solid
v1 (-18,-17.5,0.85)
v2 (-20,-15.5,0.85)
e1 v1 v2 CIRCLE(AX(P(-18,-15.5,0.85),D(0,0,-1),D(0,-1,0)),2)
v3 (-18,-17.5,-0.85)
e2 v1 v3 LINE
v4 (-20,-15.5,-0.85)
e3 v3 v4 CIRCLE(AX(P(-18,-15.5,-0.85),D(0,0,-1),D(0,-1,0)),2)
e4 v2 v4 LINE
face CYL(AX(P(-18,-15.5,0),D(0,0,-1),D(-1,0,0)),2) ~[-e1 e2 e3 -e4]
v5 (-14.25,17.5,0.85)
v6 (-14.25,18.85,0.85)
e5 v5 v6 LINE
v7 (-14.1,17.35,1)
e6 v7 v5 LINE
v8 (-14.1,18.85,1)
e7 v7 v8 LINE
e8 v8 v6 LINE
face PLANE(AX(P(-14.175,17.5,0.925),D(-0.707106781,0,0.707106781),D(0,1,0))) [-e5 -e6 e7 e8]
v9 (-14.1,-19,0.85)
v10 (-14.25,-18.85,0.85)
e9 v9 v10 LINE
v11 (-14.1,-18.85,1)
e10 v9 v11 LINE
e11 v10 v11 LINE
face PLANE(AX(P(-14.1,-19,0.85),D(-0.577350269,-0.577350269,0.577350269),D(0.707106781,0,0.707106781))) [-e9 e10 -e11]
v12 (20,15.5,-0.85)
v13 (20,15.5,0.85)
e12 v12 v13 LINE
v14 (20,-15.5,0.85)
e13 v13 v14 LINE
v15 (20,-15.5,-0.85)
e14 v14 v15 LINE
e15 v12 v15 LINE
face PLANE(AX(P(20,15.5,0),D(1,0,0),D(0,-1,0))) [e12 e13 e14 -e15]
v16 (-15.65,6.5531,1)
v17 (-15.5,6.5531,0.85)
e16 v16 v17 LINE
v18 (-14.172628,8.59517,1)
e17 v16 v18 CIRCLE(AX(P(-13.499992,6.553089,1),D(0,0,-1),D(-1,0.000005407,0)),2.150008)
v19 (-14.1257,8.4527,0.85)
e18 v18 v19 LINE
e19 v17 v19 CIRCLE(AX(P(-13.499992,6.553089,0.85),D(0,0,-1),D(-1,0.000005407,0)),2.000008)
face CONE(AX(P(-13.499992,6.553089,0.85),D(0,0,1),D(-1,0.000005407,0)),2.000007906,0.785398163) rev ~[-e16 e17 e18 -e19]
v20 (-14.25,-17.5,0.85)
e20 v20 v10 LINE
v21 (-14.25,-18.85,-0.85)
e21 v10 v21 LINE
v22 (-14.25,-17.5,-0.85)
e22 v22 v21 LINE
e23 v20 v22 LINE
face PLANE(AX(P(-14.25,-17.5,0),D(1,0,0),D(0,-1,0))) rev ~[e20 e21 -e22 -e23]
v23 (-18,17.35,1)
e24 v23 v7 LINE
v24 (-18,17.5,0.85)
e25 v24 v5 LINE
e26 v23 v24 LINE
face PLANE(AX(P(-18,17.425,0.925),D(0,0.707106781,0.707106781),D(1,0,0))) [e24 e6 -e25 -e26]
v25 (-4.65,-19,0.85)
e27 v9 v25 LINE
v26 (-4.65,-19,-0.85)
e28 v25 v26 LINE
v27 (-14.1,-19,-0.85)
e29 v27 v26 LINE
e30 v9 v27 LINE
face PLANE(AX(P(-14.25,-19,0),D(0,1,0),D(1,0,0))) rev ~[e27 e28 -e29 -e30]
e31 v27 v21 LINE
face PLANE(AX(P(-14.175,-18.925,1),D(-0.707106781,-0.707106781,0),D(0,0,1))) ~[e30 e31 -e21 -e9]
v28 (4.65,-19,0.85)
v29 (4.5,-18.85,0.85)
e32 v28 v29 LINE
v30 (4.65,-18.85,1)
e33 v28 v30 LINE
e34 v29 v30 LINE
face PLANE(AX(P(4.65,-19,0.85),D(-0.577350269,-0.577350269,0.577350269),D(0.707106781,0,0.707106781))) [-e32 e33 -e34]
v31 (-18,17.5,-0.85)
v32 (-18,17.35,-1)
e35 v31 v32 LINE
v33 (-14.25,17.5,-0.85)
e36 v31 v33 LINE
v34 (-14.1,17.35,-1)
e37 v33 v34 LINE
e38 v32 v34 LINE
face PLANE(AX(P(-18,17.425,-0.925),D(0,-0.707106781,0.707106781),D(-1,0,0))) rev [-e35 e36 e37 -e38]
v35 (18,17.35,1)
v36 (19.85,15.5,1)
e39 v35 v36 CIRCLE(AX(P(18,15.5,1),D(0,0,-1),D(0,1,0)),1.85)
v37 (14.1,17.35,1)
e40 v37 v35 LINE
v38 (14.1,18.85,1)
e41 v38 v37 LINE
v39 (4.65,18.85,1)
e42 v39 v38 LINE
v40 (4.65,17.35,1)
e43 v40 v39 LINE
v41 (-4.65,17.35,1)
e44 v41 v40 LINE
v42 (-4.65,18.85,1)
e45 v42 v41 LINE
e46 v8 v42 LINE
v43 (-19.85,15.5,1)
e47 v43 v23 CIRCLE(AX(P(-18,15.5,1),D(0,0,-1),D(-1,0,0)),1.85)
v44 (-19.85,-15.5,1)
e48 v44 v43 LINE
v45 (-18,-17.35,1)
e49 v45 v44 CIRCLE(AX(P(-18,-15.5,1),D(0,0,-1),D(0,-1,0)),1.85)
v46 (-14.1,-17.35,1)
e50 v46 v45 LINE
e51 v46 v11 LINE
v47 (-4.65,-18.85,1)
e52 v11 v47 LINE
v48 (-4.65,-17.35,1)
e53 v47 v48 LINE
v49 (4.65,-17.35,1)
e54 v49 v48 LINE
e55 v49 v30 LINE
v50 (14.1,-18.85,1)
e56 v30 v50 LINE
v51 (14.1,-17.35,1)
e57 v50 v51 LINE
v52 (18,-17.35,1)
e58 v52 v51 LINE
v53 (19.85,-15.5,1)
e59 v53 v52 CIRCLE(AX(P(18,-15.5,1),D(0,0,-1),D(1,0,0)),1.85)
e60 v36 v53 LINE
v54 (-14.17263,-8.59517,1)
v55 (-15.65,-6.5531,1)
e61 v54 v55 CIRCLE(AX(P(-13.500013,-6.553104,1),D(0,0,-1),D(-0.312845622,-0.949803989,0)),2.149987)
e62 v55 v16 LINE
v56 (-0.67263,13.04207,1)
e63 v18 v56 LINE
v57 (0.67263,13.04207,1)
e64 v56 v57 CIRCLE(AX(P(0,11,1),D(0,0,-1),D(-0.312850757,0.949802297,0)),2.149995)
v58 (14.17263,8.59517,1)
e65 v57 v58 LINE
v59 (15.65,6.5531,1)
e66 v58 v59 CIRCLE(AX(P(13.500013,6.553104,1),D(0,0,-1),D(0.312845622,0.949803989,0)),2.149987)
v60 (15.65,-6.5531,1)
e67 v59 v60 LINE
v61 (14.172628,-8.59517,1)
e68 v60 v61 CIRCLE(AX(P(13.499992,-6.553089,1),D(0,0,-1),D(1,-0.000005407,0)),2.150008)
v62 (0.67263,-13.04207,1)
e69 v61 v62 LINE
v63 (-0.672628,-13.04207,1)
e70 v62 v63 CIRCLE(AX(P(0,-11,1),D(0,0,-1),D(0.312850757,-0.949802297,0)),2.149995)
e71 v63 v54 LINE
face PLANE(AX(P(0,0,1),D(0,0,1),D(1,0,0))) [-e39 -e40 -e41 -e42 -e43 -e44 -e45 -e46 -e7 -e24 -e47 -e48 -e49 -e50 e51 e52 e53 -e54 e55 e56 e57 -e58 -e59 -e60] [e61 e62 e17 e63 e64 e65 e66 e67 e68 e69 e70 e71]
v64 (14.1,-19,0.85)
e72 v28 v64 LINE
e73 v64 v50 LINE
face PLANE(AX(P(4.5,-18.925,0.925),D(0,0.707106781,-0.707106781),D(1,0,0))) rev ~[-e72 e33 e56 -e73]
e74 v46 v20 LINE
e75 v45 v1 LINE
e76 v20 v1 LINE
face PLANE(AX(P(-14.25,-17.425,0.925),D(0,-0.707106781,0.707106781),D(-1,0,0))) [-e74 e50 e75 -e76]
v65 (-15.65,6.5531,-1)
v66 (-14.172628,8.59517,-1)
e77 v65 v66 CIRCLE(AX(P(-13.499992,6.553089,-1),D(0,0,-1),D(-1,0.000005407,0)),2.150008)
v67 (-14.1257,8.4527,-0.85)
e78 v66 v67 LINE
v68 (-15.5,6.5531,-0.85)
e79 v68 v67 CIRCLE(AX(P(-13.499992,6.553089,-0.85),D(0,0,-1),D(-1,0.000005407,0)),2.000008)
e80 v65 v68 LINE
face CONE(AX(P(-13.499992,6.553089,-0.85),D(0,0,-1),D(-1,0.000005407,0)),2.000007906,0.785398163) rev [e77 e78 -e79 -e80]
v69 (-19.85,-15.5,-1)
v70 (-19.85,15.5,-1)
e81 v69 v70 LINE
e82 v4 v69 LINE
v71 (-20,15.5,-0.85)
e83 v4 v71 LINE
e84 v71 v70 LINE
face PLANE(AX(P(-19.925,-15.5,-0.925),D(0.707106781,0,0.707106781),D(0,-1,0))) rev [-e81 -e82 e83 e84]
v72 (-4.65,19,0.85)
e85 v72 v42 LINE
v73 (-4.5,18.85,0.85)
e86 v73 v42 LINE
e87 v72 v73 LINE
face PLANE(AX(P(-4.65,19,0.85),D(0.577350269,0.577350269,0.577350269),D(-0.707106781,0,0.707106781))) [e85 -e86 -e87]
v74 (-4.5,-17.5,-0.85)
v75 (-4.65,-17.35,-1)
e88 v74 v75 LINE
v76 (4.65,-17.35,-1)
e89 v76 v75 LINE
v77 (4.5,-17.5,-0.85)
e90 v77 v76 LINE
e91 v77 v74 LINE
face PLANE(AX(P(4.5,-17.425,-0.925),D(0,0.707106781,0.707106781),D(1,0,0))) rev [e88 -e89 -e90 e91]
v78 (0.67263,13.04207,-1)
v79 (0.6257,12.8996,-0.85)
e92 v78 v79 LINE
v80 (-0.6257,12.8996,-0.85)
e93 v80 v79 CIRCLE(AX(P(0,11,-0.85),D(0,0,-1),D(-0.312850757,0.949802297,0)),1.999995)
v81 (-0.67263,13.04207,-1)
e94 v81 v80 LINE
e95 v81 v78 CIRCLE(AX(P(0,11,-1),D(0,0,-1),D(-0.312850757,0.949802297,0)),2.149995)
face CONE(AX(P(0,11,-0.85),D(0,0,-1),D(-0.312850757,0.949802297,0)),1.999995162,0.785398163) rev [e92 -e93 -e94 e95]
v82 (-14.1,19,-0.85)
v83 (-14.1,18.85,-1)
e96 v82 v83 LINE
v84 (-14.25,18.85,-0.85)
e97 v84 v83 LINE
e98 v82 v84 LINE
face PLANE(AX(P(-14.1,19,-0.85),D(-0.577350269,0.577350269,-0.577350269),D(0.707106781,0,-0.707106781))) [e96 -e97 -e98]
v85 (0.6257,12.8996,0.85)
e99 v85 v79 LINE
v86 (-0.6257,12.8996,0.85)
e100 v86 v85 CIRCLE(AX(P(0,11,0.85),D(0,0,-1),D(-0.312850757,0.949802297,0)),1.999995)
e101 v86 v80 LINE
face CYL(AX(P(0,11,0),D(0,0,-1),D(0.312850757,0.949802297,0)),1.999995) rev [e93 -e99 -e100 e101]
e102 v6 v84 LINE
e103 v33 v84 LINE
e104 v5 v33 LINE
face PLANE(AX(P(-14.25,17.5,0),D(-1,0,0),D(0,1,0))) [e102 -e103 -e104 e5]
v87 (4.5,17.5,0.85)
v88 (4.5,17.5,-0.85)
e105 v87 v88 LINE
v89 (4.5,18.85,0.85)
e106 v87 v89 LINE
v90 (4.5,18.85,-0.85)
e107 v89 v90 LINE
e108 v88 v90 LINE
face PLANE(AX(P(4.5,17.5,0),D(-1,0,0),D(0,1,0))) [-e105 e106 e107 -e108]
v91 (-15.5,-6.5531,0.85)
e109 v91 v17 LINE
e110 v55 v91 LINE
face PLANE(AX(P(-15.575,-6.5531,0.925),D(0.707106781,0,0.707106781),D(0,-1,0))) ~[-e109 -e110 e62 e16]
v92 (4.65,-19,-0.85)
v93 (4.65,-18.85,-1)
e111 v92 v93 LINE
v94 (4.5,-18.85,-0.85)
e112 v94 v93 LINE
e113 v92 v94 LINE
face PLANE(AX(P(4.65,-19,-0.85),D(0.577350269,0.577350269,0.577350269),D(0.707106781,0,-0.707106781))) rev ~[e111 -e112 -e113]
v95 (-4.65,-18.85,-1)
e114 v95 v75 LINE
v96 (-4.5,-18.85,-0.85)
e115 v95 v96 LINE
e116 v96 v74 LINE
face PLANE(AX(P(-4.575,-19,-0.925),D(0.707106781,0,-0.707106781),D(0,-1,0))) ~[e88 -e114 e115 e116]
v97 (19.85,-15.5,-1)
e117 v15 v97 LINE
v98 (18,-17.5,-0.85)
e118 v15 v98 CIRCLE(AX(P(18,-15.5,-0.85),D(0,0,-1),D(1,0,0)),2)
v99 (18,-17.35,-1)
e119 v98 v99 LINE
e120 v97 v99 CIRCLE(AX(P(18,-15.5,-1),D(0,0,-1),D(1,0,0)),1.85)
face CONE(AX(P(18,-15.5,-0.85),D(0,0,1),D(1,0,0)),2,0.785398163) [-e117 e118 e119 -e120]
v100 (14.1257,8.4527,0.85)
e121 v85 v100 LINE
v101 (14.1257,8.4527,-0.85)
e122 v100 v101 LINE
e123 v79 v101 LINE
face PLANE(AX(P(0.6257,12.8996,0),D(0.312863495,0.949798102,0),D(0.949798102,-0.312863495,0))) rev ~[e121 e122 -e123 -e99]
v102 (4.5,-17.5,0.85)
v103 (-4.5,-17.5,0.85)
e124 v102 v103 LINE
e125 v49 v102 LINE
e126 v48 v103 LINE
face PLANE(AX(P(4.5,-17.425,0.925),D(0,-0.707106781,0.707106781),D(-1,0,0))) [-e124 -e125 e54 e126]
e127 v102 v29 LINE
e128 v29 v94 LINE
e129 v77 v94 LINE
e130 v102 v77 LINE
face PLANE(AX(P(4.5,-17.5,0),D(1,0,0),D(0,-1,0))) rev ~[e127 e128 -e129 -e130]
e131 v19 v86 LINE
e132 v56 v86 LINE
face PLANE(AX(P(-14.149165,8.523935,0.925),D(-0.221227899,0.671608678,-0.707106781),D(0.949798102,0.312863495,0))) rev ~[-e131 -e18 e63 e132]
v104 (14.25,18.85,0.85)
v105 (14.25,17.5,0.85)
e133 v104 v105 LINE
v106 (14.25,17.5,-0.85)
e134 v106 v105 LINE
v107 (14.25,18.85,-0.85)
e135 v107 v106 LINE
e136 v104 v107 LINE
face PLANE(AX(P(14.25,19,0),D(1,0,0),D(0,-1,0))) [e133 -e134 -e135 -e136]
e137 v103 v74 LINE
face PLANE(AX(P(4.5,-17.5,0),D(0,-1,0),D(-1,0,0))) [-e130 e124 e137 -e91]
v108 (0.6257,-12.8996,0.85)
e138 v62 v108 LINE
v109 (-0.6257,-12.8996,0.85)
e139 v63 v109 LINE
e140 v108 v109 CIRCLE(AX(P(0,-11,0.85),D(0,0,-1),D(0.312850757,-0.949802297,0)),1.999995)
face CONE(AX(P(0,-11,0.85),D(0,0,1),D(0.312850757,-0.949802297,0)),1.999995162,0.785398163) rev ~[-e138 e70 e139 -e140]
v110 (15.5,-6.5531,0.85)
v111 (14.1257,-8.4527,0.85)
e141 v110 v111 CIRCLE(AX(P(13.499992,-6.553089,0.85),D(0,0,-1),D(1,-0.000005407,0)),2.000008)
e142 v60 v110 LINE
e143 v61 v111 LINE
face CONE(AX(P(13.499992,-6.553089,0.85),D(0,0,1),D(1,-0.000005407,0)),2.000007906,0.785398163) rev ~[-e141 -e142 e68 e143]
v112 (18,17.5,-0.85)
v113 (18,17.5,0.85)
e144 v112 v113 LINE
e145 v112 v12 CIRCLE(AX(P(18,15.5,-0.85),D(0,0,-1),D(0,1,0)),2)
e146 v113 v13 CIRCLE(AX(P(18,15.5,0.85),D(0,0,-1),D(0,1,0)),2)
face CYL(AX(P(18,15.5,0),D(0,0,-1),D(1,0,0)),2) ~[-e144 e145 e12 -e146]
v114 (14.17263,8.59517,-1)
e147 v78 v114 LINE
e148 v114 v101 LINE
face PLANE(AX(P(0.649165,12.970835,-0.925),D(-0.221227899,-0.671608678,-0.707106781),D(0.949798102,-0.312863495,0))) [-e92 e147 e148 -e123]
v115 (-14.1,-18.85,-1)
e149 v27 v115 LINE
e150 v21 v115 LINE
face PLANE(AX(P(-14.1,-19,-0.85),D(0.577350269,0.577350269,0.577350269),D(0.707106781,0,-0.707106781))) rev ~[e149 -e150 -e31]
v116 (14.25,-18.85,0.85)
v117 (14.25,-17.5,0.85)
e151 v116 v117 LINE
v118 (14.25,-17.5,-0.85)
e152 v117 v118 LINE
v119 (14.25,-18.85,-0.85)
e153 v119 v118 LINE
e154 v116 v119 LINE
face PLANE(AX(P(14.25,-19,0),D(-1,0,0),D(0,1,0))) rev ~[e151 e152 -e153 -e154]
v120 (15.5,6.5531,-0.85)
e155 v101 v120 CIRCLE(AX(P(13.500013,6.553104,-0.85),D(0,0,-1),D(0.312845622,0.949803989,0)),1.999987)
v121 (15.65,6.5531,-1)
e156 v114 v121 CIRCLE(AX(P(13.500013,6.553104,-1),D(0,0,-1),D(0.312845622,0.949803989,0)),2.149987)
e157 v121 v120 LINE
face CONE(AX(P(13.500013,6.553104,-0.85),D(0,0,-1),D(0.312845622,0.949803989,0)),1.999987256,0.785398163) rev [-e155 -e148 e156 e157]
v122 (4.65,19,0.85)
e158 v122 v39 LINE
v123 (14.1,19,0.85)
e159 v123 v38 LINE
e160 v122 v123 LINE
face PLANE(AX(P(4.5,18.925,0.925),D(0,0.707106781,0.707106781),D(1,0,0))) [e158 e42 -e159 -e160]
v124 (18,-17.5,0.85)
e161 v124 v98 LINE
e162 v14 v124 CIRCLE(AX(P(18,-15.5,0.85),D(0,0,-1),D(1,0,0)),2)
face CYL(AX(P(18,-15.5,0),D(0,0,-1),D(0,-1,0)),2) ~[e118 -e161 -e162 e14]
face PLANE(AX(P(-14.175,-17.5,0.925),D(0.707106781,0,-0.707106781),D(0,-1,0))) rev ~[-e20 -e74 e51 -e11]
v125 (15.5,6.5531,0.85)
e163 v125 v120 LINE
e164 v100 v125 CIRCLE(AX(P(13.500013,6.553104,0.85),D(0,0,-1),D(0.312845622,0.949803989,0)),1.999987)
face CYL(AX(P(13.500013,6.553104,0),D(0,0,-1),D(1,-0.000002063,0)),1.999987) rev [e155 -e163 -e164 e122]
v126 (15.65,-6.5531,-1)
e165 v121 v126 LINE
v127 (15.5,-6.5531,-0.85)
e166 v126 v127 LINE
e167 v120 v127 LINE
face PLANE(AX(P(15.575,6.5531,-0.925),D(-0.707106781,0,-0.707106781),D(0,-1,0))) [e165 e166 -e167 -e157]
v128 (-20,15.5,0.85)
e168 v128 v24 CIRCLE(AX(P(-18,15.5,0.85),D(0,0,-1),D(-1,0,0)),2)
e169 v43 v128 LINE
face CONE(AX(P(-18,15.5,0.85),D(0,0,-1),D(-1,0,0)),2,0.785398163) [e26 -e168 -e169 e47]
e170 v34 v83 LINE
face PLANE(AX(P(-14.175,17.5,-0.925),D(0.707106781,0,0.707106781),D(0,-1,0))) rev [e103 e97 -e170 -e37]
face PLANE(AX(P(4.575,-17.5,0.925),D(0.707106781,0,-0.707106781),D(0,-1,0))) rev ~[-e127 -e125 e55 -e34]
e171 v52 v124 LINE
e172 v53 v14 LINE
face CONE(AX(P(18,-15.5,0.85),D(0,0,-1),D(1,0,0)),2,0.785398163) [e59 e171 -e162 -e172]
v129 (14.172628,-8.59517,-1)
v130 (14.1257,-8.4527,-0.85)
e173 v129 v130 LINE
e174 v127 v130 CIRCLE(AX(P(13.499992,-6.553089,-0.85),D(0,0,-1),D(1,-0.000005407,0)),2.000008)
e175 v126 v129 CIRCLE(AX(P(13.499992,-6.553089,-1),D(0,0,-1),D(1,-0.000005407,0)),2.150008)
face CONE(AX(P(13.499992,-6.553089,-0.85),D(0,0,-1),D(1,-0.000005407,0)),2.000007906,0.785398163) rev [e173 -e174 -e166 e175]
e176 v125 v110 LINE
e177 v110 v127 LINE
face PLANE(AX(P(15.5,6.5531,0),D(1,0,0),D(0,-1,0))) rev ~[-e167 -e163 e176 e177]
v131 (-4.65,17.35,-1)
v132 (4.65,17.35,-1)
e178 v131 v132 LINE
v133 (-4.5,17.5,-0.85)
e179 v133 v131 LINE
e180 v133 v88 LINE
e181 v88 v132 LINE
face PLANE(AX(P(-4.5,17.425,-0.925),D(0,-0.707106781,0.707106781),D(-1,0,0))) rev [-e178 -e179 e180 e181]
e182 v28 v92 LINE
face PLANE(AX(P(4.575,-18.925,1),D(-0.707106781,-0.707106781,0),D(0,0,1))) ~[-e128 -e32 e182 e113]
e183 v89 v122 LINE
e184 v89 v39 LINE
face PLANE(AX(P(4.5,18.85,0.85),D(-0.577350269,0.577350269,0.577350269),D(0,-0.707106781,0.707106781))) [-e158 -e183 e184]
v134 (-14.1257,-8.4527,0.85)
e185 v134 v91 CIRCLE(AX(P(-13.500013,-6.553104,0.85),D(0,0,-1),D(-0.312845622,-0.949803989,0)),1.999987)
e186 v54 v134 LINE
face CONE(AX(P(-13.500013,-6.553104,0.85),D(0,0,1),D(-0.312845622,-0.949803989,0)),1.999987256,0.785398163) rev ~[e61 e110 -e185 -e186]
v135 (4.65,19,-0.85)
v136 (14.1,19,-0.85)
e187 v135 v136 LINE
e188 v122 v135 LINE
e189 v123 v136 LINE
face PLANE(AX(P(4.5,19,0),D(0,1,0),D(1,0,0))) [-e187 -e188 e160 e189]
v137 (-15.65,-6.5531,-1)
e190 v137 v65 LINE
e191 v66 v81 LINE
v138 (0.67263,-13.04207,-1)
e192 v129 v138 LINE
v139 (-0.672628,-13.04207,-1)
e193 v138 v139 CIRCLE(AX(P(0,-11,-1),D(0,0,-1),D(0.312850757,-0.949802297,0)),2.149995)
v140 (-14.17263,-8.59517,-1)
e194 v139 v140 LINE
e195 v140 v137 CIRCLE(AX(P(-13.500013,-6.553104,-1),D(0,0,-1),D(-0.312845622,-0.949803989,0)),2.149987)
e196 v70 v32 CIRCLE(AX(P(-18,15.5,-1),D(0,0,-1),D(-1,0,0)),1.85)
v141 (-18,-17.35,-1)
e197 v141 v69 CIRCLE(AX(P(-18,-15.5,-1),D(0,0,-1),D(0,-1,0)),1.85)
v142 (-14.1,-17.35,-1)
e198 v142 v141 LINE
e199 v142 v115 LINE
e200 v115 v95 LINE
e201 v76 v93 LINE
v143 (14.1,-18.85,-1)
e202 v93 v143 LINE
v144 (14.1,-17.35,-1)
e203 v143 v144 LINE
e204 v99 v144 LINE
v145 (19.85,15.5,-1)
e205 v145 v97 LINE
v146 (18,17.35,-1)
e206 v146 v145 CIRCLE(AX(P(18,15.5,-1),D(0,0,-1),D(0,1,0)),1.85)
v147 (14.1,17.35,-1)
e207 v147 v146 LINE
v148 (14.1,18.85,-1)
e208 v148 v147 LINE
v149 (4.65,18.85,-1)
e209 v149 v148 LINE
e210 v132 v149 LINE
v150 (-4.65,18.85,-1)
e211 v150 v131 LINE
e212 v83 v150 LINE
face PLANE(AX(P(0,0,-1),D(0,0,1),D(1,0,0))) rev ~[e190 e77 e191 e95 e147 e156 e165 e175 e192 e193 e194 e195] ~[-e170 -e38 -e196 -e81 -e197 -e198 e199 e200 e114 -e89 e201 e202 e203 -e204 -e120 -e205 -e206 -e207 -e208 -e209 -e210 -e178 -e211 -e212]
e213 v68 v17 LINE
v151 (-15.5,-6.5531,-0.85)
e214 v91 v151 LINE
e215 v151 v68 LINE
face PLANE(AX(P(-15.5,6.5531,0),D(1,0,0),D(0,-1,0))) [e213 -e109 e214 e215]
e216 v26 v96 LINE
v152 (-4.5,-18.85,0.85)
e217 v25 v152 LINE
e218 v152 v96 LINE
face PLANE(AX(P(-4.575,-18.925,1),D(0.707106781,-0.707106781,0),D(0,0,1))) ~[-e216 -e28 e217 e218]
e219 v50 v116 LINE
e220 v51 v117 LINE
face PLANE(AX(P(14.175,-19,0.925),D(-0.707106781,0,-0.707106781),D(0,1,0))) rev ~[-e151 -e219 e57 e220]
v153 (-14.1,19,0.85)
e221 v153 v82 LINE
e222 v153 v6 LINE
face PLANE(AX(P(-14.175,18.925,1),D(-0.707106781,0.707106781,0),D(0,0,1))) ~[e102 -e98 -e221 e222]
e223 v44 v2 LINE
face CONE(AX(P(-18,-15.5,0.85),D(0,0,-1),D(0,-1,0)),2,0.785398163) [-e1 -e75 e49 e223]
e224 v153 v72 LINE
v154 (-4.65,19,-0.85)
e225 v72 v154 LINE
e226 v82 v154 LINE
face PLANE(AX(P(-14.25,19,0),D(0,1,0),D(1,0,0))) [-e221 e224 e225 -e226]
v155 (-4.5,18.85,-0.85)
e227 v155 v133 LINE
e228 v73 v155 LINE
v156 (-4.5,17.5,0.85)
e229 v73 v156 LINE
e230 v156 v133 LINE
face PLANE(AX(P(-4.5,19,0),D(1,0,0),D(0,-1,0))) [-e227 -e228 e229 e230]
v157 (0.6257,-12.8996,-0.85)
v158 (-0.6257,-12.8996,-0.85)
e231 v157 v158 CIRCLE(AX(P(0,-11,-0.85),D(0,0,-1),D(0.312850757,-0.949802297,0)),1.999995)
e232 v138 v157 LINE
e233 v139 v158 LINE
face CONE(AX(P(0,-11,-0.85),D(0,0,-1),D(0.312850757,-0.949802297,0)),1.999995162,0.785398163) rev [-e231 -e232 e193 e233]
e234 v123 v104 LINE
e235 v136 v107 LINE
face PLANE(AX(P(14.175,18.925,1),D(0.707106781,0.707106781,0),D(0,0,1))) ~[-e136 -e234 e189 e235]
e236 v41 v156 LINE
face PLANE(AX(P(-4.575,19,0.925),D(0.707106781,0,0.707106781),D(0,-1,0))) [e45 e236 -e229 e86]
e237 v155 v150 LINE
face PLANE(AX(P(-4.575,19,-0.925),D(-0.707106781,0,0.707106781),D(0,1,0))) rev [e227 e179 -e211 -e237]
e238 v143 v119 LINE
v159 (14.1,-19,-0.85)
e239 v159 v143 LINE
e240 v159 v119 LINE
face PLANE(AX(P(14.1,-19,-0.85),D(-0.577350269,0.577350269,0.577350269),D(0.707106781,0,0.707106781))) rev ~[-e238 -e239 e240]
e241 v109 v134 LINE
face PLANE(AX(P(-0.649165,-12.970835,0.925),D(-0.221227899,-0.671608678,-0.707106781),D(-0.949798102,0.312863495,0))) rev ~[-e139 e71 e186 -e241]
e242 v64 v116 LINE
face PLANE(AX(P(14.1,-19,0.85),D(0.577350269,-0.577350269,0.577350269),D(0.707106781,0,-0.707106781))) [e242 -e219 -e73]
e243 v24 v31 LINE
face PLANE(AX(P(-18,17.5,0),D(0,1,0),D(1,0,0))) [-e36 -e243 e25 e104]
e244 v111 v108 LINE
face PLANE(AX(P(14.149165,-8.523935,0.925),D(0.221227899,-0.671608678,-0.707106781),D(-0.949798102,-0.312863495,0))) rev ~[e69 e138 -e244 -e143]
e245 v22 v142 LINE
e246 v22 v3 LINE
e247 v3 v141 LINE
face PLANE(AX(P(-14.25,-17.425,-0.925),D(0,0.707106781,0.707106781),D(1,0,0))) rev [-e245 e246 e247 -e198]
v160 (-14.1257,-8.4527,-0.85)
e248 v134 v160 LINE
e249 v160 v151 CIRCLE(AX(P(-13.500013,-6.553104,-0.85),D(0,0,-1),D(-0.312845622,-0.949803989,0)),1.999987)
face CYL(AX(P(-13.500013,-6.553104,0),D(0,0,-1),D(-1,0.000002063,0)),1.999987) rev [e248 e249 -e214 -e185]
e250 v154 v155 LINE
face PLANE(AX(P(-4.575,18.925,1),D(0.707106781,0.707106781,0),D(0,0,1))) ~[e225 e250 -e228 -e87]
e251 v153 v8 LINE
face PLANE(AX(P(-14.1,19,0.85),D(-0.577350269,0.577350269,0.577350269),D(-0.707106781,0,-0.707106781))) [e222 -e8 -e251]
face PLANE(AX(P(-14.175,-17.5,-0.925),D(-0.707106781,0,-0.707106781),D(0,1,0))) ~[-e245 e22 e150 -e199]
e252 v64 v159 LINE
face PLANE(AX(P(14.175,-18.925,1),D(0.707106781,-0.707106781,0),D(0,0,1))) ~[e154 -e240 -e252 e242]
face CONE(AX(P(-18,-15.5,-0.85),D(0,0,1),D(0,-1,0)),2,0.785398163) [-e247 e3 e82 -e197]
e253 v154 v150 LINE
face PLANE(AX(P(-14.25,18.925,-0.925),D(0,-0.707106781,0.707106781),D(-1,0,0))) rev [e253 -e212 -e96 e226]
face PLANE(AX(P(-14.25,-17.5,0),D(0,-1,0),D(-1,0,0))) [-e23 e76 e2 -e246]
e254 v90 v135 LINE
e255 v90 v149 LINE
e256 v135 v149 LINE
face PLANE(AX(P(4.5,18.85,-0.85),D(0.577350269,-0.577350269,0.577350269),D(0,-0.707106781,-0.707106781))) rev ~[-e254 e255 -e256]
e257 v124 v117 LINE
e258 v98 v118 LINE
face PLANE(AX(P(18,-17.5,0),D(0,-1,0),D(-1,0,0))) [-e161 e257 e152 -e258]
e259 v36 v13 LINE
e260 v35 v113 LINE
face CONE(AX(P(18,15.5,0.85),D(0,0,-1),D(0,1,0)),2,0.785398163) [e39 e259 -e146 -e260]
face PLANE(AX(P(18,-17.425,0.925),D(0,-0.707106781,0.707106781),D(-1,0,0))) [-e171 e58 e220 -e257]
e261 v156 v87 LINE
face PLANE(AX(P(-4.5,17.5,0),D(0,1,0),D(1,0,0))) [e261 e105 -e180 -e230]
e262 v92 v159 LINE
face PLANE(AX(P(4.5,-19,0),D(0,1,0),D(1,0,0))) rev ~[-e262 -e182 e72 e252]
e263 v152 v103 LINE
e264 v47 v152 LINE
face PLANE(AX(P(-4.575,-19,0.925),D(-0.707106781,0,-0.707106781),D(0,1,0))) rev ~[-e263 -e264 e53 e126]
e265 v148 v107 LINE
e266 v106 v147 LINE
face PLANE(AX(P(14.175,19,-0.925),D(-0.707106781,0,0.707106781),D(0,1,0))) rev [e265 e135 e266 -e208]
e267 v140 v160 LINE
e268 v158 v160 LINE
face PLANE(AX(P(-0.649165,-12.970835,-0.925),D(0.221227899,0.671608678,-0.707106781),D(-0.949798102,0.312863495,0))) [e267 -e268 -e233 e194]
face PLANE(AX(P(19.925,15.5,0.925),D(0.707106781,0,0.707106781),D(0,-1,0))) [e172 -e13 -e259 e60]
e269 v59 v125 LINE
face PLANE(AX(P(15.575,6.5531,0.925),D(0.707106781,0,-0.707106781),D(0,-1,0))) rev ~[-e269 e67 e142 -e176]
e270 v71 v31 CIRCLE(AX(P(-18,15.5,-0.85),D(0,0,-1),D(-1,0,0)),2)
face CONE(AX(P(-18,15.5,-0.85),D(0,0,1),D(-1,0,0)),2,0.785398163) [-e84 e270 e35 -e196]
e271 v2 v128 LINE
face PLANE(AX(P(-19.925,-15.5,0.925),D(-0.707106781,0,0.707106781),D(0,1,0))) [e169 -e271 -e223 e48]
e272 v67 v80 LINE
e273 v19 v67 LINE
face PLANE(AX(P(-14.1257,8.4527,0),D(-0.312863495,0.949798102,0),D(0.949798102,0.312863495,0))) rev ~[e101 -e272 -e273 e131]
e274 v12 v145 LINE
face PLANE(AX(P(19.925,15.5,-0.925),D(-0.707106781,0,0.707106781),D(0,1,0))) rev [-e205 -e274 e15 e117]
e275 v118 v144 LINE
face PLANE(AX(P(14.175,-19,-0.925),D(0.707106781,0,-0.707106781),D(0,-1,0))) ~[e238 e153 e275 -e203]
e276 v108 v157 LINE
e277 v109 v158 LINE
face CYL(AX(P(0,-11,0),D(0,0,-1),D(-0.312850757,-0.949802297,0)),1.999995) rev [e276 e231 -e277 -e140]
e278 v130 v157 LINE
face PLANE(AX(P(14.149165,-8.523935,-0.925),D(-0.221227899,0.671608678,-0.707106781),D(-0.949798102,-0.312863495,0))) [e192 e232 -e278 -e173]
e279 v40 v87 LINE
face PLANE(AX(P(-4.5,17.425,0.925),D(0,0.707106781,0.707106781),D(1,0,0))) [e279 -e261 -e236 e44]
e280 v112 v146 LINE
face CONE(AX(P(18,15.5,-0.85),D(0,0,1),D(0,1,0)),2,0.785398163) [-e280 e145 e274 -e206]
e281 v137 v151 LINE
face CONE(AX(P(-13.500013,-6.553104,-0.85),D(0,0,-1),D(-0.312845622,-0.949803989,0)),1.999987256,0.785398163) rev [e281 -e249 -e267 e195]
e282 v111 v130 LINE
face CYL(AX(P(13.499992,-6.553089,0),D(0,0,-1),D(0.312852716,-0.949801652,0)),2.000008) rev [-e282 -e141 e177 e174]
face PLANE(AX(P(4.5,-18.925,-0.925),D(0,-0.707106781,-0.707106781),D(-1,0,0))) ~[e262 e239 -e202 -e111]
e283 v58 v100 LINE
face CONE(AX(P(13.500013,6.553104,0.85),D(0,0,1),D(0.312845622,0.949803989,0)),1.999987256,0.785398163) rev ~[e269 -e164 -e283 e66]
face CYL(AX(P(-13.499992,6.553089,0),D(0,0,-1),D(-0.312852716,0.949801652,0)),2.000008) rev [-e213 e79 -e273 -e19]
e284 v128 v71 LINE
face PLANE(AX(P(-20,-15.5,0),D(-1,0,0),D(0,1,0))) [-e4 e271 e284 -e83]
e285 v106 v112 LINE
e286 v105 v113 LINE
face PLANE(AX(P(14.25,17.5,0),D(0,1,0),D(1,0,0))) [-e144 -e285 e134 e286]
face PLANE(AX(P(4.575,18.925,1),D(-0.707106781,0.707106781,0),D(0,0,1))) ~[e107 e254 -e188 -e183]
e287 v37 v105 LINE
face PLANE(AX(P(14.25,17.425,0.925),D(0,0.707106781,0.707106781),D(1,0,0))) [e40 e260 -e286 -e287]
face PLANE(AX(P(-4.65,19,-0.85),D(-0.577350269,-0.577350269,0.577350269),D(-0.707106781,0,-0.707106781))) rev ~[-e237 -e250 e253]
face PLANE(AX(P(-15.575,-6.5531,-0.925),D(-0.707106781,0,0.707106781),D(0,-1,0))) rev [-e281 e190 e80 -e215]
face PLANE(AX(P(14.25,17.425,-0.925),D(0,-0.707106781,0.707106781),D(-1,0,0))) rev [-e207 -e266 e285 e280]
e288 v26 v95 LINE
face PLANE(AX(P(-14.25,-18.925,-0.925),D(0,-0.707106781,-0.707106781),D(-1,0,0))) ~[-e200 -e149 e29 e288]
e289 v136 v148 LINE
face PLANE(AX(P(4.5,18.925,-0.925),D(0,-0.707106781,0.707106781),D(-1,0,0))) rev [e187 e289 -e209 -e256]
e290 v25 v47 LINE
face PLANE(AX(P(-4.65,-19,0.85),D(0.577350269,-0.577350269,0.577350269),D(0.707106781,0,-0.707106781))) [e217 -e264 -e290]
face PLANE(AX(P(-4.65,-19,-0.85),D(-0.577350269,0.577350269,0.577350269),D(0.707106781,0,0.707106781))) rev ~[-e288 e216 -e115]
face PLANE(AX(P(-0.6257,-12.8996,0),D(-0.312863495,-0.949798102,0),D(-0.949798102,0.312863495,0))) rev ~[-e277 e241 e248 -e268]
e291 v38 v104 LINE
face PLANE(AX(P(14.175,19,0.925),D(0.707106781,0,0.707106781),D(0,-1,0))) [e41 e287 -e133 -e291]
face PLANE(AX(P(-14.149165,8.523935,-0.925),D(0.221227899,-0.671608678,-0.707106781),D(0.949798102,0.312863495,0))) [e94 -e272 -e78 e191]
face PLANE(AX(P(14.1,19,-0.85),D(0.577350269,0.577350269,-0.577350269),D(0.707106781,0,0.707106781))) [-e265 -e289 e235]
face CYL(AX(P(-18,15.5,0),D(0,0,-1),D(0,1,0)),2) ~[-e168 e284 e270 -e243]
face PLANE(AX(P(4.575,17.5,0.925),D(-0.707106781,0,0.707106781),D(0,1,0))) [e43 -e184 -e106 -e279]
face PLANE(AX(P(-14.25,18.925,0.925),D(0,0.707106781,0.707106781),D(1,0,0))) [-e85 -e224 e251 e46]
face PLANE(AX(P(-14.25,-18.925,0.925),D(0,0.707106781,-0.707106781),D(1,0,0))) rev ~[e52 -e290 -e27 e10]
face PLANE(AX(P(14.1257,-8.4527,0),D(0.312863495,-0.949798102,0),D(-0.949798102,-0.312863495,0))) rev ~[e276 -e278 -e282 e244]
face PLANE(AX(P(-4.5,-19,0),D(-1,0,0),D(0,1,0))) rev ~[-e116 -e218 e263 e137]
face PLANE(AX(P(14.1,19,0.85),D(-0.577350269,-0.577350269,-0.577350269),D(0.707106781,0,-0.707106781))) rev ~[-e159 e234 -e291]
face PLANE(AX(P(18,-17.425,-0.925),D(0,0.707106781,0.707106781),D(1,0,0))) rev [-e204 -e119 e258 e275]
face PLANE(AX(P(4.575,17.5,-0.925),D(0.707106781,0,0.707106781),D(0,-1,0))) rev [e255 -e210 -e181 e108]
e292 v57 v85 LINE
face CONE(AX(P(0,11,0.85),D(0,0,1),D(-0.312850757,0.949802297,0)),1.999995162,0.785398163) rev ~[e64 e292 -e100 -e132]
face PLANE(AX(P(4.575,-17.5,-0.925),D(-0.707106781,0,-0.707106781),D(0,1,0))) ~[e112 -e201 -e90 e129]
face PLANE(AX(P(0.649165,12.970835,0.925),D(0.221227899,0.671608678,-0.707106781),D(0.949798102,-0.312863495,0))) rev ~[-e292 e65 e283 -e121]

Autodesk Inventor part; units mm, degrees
ref_plane "YZ Plane" through (0, 0, 0) normal (1, 0, 0) x (0, 1, 0)
ref_plane "XZ Plane" through (0, 0, 0) normal (0, 1, 0) x (-1, 0, 0)
ref_plane "XY Plane" through (0, 0, 0) normal (0, 0, 1) x (1, 0, 0)
sketch "Sketch1" plane through (0, 0, 0) normal (0, 0, 1) x (1, 0, 0)
  line L0 (0, 17.5) -> (0, -17.5) construction
  line L1 (-20, 0) -> (20, 0) construction
  line L2 (20, 15.5) -> (20, -15.5)
  line L3 (-20, -15.5) -> (-20, 15.5)
  line L4 (-14.25, 19) -> (-4.5, 19)
  line L5 (-4.5, 19) -> (-4.5, 17.5)
  line L6 (-14.25, 17.5) -> (-14.25, 19)
  line L7 (4.5, 19) -> (14.25, 19)
  line L8 (14.25, 19) -> (14.25, 17.5)
  line L9 (4.5, 17.5) -> (4.5, 19)
  line L10 (4.5, -19) -> (14.25, -19)
  line L11 (14.25, -19) -> (14.25, -17.5)
  line L12 (4.5, -17.5) -> (4.5, -19)
  line L13 (-14.25, -19) -> (-4.5, -19)
  line L14 (-4.5, -19) -> (-4.5, -17.5)
  line L15 (-14.25, -17.5) -> (-14.25, -19)
  line L16 (14.25, 17.5) -> (18, 17.5)
  line L17 (-18, 17.5) -> (-14.25, 17.5)
  line L18 (-4.5, 17.5) -> (4.5, 17.5)
  line L19 (-14.25, -17.5) -> (-18, -17.5)
  line L20 (18, -17.5) -> (14.25, -17.5)
  line L21 (4.5, -17.5) -> (-4.5, -17.5)
  arc A0 (18, -17.5) -> (20, -15.5) centre (18, -15.5) ccw
  arc A1 (20, 15.5) -> (18, 17.5) centre (18, 15.5) ccw
  arc A2 (-18, 17.5) -> (-20, 15.5) centre (-18, 15.5) ccw
  arc A3 (-20, -15.5) -> (-18, -17.5) centre (-18, -15.5) ccw
  line L22 (-15.5, 6.5531) -> (-15.5, -6.5531)
  line L23 (15.5, 6.5531) -> (15.5, -6.5531)
  line L24 (14.1257, -8.4527) -> (0.6257, -12.8996)
  line L25 (-0.6257, -12.8996) -> (-14.1257, -8.4527)
  line L26 (-14.1257, 8.4527) -> (-0.6257, 12.8996)
  line L27 (0.6257, 12.8996) -> (14.1257, 8.4527)
  arc A4 (0.6257, 12.8996) -> (-0.6257, 12.8996) centre (0, 11) ccw
  arc A5 (15.5, 6.5531) -> (14.1257, 8.4527) centre (13.5, 6.5531) ccw
  arc A6 (14.1257, -8.4527) -> (15.5, -6.5531) centre (13.5, -6.5531) ccw
  arc A7 (-0.6257, -12.8996) -> (0.6257, -12.8996) centre (0, -11) ccw
  arc A8 (-15.5, -6.5531) -> (-14.1257, -8.4527) centre (-13.5, -6.5531) ccw
  arc A9 (-14.1257, 8.4527) -> (-15.5, 6.5531) centre (-13.5, 6.5531) ccw
  line L28 (14.1257, 8.4527) -> (15.5, 8) construction
  line L29 (15.5, 6.5531) -> (15.5, 8) construction
  point P0 (0, 0)
  point P1 (0, -13.1057)
  point P2 (0, 13.1057)
  dimension "d0" = 40
  dimension "d1" = 15.5
  dimension "d2" = 5.75
  dimension "d3" = 1.5
  dimension "d4" = 35
  dimension "d5" = 2
  dimension "d6" = 4.5
  dimension "d7" = 2
  dimension "d8" = 26
  dimension "d9" = 8
extrude "Extrusion1" add sketch "Sketch1" along normal mid plane 2
chamfer "Chamfer1" distance 0.15 angle 45 24 edges at (7.3757, 10.6761, 1) (15.1204, 7.7254, 1) (15.5, 0, 1) (15.1204, -7.7254, 1) (7.3757, -10.6761, 1) (0, -13, 1) (-7.3757, -10.6761, 1) (-15.1204, -7.7254, 1) (-15.5, 0, 1) (-15.1204, 7.7254, 1) (-7.3757, 10.6761, 1) (0, 13, 1) (7.3757, 10.6761, -1) (0, 13, -1) (-7.3757, 10.6761, -1) (-15.1204, 7.7254, -1) (-15.5, 0, -1) (-15.1204, -7.7254, -1) (-7.3757, -10.6761, -1) (0, -13, -1) (7.3757, -10.6761, -1) (15.1204, -7.7254, -1) (15.5, 0, -1) (15.1204, 7.7254, -1)
chamfer "Chamfer2" distance 0.15 angle 45 56 edges at (20, 0, 1) (19.4142, -16.9142, 1) (16.125, -17.5, 1) (19.4142, 16.9142, 1) (16.125, 17.5, 1) (20, 0, -1) (19.4142, 16.9142, -1) (16.125, 17.5, -1) (19.4142, -16.9142, -1) (16.125, -17.5, -1) (-20, 0, 1) (-19.4142, 16.9142, 1) (-16.125, 17.5, 1) (-19.4142, -16.9142, 1) (-16.125, -17.5, 1) (-20, 0, -1) (-19.4142, -16.9142, -1) (-16.125, -17.5, -1) (-19.4142, 16.9142, -1) (-16.125, 17.5, -1) (0, -17.5, -1) (0, -17.5, 1) (0, 17.5, 1) (0, 17.5, -1) (-14.25, -18.25, 1) (-14.25, -18.25, -1) (-4.5, -18.25, 1) (-4.5, -18.25, -1) (4.5, -18.25, -1) (4.5, -18.25, 1) (14.25, -18.25, 1) (14.25, -18.25, -1) (14.25, 18.25, 1) (14.25, 18.25, -1) (-4.5, 18.25, 1) (-4.5, 18.25, -1) (-14.25, 18.25, -1) (-14.25, 18.25, 1) (9.375, 19, -1) (9.375, 19, 1) (14.25, 19, 0) (4.5, 19, 0) (4.5, 18.25, 1) (4.5, 18.25, -1) (-4.5, 19, 0) (-9.375, 19, 1) (-14.25, 19, 0) (-9.375, 19, -1) (-14.25, -19, 0) (-9.375, -19, 1) (-9.375, -19, -1) (4.5, -19, 0) (9.375, -19, -1) (9.375, -19, 1) (-4.5, -19, 0) (14.25, -19, 0)
properties part number "FPV Plate"
